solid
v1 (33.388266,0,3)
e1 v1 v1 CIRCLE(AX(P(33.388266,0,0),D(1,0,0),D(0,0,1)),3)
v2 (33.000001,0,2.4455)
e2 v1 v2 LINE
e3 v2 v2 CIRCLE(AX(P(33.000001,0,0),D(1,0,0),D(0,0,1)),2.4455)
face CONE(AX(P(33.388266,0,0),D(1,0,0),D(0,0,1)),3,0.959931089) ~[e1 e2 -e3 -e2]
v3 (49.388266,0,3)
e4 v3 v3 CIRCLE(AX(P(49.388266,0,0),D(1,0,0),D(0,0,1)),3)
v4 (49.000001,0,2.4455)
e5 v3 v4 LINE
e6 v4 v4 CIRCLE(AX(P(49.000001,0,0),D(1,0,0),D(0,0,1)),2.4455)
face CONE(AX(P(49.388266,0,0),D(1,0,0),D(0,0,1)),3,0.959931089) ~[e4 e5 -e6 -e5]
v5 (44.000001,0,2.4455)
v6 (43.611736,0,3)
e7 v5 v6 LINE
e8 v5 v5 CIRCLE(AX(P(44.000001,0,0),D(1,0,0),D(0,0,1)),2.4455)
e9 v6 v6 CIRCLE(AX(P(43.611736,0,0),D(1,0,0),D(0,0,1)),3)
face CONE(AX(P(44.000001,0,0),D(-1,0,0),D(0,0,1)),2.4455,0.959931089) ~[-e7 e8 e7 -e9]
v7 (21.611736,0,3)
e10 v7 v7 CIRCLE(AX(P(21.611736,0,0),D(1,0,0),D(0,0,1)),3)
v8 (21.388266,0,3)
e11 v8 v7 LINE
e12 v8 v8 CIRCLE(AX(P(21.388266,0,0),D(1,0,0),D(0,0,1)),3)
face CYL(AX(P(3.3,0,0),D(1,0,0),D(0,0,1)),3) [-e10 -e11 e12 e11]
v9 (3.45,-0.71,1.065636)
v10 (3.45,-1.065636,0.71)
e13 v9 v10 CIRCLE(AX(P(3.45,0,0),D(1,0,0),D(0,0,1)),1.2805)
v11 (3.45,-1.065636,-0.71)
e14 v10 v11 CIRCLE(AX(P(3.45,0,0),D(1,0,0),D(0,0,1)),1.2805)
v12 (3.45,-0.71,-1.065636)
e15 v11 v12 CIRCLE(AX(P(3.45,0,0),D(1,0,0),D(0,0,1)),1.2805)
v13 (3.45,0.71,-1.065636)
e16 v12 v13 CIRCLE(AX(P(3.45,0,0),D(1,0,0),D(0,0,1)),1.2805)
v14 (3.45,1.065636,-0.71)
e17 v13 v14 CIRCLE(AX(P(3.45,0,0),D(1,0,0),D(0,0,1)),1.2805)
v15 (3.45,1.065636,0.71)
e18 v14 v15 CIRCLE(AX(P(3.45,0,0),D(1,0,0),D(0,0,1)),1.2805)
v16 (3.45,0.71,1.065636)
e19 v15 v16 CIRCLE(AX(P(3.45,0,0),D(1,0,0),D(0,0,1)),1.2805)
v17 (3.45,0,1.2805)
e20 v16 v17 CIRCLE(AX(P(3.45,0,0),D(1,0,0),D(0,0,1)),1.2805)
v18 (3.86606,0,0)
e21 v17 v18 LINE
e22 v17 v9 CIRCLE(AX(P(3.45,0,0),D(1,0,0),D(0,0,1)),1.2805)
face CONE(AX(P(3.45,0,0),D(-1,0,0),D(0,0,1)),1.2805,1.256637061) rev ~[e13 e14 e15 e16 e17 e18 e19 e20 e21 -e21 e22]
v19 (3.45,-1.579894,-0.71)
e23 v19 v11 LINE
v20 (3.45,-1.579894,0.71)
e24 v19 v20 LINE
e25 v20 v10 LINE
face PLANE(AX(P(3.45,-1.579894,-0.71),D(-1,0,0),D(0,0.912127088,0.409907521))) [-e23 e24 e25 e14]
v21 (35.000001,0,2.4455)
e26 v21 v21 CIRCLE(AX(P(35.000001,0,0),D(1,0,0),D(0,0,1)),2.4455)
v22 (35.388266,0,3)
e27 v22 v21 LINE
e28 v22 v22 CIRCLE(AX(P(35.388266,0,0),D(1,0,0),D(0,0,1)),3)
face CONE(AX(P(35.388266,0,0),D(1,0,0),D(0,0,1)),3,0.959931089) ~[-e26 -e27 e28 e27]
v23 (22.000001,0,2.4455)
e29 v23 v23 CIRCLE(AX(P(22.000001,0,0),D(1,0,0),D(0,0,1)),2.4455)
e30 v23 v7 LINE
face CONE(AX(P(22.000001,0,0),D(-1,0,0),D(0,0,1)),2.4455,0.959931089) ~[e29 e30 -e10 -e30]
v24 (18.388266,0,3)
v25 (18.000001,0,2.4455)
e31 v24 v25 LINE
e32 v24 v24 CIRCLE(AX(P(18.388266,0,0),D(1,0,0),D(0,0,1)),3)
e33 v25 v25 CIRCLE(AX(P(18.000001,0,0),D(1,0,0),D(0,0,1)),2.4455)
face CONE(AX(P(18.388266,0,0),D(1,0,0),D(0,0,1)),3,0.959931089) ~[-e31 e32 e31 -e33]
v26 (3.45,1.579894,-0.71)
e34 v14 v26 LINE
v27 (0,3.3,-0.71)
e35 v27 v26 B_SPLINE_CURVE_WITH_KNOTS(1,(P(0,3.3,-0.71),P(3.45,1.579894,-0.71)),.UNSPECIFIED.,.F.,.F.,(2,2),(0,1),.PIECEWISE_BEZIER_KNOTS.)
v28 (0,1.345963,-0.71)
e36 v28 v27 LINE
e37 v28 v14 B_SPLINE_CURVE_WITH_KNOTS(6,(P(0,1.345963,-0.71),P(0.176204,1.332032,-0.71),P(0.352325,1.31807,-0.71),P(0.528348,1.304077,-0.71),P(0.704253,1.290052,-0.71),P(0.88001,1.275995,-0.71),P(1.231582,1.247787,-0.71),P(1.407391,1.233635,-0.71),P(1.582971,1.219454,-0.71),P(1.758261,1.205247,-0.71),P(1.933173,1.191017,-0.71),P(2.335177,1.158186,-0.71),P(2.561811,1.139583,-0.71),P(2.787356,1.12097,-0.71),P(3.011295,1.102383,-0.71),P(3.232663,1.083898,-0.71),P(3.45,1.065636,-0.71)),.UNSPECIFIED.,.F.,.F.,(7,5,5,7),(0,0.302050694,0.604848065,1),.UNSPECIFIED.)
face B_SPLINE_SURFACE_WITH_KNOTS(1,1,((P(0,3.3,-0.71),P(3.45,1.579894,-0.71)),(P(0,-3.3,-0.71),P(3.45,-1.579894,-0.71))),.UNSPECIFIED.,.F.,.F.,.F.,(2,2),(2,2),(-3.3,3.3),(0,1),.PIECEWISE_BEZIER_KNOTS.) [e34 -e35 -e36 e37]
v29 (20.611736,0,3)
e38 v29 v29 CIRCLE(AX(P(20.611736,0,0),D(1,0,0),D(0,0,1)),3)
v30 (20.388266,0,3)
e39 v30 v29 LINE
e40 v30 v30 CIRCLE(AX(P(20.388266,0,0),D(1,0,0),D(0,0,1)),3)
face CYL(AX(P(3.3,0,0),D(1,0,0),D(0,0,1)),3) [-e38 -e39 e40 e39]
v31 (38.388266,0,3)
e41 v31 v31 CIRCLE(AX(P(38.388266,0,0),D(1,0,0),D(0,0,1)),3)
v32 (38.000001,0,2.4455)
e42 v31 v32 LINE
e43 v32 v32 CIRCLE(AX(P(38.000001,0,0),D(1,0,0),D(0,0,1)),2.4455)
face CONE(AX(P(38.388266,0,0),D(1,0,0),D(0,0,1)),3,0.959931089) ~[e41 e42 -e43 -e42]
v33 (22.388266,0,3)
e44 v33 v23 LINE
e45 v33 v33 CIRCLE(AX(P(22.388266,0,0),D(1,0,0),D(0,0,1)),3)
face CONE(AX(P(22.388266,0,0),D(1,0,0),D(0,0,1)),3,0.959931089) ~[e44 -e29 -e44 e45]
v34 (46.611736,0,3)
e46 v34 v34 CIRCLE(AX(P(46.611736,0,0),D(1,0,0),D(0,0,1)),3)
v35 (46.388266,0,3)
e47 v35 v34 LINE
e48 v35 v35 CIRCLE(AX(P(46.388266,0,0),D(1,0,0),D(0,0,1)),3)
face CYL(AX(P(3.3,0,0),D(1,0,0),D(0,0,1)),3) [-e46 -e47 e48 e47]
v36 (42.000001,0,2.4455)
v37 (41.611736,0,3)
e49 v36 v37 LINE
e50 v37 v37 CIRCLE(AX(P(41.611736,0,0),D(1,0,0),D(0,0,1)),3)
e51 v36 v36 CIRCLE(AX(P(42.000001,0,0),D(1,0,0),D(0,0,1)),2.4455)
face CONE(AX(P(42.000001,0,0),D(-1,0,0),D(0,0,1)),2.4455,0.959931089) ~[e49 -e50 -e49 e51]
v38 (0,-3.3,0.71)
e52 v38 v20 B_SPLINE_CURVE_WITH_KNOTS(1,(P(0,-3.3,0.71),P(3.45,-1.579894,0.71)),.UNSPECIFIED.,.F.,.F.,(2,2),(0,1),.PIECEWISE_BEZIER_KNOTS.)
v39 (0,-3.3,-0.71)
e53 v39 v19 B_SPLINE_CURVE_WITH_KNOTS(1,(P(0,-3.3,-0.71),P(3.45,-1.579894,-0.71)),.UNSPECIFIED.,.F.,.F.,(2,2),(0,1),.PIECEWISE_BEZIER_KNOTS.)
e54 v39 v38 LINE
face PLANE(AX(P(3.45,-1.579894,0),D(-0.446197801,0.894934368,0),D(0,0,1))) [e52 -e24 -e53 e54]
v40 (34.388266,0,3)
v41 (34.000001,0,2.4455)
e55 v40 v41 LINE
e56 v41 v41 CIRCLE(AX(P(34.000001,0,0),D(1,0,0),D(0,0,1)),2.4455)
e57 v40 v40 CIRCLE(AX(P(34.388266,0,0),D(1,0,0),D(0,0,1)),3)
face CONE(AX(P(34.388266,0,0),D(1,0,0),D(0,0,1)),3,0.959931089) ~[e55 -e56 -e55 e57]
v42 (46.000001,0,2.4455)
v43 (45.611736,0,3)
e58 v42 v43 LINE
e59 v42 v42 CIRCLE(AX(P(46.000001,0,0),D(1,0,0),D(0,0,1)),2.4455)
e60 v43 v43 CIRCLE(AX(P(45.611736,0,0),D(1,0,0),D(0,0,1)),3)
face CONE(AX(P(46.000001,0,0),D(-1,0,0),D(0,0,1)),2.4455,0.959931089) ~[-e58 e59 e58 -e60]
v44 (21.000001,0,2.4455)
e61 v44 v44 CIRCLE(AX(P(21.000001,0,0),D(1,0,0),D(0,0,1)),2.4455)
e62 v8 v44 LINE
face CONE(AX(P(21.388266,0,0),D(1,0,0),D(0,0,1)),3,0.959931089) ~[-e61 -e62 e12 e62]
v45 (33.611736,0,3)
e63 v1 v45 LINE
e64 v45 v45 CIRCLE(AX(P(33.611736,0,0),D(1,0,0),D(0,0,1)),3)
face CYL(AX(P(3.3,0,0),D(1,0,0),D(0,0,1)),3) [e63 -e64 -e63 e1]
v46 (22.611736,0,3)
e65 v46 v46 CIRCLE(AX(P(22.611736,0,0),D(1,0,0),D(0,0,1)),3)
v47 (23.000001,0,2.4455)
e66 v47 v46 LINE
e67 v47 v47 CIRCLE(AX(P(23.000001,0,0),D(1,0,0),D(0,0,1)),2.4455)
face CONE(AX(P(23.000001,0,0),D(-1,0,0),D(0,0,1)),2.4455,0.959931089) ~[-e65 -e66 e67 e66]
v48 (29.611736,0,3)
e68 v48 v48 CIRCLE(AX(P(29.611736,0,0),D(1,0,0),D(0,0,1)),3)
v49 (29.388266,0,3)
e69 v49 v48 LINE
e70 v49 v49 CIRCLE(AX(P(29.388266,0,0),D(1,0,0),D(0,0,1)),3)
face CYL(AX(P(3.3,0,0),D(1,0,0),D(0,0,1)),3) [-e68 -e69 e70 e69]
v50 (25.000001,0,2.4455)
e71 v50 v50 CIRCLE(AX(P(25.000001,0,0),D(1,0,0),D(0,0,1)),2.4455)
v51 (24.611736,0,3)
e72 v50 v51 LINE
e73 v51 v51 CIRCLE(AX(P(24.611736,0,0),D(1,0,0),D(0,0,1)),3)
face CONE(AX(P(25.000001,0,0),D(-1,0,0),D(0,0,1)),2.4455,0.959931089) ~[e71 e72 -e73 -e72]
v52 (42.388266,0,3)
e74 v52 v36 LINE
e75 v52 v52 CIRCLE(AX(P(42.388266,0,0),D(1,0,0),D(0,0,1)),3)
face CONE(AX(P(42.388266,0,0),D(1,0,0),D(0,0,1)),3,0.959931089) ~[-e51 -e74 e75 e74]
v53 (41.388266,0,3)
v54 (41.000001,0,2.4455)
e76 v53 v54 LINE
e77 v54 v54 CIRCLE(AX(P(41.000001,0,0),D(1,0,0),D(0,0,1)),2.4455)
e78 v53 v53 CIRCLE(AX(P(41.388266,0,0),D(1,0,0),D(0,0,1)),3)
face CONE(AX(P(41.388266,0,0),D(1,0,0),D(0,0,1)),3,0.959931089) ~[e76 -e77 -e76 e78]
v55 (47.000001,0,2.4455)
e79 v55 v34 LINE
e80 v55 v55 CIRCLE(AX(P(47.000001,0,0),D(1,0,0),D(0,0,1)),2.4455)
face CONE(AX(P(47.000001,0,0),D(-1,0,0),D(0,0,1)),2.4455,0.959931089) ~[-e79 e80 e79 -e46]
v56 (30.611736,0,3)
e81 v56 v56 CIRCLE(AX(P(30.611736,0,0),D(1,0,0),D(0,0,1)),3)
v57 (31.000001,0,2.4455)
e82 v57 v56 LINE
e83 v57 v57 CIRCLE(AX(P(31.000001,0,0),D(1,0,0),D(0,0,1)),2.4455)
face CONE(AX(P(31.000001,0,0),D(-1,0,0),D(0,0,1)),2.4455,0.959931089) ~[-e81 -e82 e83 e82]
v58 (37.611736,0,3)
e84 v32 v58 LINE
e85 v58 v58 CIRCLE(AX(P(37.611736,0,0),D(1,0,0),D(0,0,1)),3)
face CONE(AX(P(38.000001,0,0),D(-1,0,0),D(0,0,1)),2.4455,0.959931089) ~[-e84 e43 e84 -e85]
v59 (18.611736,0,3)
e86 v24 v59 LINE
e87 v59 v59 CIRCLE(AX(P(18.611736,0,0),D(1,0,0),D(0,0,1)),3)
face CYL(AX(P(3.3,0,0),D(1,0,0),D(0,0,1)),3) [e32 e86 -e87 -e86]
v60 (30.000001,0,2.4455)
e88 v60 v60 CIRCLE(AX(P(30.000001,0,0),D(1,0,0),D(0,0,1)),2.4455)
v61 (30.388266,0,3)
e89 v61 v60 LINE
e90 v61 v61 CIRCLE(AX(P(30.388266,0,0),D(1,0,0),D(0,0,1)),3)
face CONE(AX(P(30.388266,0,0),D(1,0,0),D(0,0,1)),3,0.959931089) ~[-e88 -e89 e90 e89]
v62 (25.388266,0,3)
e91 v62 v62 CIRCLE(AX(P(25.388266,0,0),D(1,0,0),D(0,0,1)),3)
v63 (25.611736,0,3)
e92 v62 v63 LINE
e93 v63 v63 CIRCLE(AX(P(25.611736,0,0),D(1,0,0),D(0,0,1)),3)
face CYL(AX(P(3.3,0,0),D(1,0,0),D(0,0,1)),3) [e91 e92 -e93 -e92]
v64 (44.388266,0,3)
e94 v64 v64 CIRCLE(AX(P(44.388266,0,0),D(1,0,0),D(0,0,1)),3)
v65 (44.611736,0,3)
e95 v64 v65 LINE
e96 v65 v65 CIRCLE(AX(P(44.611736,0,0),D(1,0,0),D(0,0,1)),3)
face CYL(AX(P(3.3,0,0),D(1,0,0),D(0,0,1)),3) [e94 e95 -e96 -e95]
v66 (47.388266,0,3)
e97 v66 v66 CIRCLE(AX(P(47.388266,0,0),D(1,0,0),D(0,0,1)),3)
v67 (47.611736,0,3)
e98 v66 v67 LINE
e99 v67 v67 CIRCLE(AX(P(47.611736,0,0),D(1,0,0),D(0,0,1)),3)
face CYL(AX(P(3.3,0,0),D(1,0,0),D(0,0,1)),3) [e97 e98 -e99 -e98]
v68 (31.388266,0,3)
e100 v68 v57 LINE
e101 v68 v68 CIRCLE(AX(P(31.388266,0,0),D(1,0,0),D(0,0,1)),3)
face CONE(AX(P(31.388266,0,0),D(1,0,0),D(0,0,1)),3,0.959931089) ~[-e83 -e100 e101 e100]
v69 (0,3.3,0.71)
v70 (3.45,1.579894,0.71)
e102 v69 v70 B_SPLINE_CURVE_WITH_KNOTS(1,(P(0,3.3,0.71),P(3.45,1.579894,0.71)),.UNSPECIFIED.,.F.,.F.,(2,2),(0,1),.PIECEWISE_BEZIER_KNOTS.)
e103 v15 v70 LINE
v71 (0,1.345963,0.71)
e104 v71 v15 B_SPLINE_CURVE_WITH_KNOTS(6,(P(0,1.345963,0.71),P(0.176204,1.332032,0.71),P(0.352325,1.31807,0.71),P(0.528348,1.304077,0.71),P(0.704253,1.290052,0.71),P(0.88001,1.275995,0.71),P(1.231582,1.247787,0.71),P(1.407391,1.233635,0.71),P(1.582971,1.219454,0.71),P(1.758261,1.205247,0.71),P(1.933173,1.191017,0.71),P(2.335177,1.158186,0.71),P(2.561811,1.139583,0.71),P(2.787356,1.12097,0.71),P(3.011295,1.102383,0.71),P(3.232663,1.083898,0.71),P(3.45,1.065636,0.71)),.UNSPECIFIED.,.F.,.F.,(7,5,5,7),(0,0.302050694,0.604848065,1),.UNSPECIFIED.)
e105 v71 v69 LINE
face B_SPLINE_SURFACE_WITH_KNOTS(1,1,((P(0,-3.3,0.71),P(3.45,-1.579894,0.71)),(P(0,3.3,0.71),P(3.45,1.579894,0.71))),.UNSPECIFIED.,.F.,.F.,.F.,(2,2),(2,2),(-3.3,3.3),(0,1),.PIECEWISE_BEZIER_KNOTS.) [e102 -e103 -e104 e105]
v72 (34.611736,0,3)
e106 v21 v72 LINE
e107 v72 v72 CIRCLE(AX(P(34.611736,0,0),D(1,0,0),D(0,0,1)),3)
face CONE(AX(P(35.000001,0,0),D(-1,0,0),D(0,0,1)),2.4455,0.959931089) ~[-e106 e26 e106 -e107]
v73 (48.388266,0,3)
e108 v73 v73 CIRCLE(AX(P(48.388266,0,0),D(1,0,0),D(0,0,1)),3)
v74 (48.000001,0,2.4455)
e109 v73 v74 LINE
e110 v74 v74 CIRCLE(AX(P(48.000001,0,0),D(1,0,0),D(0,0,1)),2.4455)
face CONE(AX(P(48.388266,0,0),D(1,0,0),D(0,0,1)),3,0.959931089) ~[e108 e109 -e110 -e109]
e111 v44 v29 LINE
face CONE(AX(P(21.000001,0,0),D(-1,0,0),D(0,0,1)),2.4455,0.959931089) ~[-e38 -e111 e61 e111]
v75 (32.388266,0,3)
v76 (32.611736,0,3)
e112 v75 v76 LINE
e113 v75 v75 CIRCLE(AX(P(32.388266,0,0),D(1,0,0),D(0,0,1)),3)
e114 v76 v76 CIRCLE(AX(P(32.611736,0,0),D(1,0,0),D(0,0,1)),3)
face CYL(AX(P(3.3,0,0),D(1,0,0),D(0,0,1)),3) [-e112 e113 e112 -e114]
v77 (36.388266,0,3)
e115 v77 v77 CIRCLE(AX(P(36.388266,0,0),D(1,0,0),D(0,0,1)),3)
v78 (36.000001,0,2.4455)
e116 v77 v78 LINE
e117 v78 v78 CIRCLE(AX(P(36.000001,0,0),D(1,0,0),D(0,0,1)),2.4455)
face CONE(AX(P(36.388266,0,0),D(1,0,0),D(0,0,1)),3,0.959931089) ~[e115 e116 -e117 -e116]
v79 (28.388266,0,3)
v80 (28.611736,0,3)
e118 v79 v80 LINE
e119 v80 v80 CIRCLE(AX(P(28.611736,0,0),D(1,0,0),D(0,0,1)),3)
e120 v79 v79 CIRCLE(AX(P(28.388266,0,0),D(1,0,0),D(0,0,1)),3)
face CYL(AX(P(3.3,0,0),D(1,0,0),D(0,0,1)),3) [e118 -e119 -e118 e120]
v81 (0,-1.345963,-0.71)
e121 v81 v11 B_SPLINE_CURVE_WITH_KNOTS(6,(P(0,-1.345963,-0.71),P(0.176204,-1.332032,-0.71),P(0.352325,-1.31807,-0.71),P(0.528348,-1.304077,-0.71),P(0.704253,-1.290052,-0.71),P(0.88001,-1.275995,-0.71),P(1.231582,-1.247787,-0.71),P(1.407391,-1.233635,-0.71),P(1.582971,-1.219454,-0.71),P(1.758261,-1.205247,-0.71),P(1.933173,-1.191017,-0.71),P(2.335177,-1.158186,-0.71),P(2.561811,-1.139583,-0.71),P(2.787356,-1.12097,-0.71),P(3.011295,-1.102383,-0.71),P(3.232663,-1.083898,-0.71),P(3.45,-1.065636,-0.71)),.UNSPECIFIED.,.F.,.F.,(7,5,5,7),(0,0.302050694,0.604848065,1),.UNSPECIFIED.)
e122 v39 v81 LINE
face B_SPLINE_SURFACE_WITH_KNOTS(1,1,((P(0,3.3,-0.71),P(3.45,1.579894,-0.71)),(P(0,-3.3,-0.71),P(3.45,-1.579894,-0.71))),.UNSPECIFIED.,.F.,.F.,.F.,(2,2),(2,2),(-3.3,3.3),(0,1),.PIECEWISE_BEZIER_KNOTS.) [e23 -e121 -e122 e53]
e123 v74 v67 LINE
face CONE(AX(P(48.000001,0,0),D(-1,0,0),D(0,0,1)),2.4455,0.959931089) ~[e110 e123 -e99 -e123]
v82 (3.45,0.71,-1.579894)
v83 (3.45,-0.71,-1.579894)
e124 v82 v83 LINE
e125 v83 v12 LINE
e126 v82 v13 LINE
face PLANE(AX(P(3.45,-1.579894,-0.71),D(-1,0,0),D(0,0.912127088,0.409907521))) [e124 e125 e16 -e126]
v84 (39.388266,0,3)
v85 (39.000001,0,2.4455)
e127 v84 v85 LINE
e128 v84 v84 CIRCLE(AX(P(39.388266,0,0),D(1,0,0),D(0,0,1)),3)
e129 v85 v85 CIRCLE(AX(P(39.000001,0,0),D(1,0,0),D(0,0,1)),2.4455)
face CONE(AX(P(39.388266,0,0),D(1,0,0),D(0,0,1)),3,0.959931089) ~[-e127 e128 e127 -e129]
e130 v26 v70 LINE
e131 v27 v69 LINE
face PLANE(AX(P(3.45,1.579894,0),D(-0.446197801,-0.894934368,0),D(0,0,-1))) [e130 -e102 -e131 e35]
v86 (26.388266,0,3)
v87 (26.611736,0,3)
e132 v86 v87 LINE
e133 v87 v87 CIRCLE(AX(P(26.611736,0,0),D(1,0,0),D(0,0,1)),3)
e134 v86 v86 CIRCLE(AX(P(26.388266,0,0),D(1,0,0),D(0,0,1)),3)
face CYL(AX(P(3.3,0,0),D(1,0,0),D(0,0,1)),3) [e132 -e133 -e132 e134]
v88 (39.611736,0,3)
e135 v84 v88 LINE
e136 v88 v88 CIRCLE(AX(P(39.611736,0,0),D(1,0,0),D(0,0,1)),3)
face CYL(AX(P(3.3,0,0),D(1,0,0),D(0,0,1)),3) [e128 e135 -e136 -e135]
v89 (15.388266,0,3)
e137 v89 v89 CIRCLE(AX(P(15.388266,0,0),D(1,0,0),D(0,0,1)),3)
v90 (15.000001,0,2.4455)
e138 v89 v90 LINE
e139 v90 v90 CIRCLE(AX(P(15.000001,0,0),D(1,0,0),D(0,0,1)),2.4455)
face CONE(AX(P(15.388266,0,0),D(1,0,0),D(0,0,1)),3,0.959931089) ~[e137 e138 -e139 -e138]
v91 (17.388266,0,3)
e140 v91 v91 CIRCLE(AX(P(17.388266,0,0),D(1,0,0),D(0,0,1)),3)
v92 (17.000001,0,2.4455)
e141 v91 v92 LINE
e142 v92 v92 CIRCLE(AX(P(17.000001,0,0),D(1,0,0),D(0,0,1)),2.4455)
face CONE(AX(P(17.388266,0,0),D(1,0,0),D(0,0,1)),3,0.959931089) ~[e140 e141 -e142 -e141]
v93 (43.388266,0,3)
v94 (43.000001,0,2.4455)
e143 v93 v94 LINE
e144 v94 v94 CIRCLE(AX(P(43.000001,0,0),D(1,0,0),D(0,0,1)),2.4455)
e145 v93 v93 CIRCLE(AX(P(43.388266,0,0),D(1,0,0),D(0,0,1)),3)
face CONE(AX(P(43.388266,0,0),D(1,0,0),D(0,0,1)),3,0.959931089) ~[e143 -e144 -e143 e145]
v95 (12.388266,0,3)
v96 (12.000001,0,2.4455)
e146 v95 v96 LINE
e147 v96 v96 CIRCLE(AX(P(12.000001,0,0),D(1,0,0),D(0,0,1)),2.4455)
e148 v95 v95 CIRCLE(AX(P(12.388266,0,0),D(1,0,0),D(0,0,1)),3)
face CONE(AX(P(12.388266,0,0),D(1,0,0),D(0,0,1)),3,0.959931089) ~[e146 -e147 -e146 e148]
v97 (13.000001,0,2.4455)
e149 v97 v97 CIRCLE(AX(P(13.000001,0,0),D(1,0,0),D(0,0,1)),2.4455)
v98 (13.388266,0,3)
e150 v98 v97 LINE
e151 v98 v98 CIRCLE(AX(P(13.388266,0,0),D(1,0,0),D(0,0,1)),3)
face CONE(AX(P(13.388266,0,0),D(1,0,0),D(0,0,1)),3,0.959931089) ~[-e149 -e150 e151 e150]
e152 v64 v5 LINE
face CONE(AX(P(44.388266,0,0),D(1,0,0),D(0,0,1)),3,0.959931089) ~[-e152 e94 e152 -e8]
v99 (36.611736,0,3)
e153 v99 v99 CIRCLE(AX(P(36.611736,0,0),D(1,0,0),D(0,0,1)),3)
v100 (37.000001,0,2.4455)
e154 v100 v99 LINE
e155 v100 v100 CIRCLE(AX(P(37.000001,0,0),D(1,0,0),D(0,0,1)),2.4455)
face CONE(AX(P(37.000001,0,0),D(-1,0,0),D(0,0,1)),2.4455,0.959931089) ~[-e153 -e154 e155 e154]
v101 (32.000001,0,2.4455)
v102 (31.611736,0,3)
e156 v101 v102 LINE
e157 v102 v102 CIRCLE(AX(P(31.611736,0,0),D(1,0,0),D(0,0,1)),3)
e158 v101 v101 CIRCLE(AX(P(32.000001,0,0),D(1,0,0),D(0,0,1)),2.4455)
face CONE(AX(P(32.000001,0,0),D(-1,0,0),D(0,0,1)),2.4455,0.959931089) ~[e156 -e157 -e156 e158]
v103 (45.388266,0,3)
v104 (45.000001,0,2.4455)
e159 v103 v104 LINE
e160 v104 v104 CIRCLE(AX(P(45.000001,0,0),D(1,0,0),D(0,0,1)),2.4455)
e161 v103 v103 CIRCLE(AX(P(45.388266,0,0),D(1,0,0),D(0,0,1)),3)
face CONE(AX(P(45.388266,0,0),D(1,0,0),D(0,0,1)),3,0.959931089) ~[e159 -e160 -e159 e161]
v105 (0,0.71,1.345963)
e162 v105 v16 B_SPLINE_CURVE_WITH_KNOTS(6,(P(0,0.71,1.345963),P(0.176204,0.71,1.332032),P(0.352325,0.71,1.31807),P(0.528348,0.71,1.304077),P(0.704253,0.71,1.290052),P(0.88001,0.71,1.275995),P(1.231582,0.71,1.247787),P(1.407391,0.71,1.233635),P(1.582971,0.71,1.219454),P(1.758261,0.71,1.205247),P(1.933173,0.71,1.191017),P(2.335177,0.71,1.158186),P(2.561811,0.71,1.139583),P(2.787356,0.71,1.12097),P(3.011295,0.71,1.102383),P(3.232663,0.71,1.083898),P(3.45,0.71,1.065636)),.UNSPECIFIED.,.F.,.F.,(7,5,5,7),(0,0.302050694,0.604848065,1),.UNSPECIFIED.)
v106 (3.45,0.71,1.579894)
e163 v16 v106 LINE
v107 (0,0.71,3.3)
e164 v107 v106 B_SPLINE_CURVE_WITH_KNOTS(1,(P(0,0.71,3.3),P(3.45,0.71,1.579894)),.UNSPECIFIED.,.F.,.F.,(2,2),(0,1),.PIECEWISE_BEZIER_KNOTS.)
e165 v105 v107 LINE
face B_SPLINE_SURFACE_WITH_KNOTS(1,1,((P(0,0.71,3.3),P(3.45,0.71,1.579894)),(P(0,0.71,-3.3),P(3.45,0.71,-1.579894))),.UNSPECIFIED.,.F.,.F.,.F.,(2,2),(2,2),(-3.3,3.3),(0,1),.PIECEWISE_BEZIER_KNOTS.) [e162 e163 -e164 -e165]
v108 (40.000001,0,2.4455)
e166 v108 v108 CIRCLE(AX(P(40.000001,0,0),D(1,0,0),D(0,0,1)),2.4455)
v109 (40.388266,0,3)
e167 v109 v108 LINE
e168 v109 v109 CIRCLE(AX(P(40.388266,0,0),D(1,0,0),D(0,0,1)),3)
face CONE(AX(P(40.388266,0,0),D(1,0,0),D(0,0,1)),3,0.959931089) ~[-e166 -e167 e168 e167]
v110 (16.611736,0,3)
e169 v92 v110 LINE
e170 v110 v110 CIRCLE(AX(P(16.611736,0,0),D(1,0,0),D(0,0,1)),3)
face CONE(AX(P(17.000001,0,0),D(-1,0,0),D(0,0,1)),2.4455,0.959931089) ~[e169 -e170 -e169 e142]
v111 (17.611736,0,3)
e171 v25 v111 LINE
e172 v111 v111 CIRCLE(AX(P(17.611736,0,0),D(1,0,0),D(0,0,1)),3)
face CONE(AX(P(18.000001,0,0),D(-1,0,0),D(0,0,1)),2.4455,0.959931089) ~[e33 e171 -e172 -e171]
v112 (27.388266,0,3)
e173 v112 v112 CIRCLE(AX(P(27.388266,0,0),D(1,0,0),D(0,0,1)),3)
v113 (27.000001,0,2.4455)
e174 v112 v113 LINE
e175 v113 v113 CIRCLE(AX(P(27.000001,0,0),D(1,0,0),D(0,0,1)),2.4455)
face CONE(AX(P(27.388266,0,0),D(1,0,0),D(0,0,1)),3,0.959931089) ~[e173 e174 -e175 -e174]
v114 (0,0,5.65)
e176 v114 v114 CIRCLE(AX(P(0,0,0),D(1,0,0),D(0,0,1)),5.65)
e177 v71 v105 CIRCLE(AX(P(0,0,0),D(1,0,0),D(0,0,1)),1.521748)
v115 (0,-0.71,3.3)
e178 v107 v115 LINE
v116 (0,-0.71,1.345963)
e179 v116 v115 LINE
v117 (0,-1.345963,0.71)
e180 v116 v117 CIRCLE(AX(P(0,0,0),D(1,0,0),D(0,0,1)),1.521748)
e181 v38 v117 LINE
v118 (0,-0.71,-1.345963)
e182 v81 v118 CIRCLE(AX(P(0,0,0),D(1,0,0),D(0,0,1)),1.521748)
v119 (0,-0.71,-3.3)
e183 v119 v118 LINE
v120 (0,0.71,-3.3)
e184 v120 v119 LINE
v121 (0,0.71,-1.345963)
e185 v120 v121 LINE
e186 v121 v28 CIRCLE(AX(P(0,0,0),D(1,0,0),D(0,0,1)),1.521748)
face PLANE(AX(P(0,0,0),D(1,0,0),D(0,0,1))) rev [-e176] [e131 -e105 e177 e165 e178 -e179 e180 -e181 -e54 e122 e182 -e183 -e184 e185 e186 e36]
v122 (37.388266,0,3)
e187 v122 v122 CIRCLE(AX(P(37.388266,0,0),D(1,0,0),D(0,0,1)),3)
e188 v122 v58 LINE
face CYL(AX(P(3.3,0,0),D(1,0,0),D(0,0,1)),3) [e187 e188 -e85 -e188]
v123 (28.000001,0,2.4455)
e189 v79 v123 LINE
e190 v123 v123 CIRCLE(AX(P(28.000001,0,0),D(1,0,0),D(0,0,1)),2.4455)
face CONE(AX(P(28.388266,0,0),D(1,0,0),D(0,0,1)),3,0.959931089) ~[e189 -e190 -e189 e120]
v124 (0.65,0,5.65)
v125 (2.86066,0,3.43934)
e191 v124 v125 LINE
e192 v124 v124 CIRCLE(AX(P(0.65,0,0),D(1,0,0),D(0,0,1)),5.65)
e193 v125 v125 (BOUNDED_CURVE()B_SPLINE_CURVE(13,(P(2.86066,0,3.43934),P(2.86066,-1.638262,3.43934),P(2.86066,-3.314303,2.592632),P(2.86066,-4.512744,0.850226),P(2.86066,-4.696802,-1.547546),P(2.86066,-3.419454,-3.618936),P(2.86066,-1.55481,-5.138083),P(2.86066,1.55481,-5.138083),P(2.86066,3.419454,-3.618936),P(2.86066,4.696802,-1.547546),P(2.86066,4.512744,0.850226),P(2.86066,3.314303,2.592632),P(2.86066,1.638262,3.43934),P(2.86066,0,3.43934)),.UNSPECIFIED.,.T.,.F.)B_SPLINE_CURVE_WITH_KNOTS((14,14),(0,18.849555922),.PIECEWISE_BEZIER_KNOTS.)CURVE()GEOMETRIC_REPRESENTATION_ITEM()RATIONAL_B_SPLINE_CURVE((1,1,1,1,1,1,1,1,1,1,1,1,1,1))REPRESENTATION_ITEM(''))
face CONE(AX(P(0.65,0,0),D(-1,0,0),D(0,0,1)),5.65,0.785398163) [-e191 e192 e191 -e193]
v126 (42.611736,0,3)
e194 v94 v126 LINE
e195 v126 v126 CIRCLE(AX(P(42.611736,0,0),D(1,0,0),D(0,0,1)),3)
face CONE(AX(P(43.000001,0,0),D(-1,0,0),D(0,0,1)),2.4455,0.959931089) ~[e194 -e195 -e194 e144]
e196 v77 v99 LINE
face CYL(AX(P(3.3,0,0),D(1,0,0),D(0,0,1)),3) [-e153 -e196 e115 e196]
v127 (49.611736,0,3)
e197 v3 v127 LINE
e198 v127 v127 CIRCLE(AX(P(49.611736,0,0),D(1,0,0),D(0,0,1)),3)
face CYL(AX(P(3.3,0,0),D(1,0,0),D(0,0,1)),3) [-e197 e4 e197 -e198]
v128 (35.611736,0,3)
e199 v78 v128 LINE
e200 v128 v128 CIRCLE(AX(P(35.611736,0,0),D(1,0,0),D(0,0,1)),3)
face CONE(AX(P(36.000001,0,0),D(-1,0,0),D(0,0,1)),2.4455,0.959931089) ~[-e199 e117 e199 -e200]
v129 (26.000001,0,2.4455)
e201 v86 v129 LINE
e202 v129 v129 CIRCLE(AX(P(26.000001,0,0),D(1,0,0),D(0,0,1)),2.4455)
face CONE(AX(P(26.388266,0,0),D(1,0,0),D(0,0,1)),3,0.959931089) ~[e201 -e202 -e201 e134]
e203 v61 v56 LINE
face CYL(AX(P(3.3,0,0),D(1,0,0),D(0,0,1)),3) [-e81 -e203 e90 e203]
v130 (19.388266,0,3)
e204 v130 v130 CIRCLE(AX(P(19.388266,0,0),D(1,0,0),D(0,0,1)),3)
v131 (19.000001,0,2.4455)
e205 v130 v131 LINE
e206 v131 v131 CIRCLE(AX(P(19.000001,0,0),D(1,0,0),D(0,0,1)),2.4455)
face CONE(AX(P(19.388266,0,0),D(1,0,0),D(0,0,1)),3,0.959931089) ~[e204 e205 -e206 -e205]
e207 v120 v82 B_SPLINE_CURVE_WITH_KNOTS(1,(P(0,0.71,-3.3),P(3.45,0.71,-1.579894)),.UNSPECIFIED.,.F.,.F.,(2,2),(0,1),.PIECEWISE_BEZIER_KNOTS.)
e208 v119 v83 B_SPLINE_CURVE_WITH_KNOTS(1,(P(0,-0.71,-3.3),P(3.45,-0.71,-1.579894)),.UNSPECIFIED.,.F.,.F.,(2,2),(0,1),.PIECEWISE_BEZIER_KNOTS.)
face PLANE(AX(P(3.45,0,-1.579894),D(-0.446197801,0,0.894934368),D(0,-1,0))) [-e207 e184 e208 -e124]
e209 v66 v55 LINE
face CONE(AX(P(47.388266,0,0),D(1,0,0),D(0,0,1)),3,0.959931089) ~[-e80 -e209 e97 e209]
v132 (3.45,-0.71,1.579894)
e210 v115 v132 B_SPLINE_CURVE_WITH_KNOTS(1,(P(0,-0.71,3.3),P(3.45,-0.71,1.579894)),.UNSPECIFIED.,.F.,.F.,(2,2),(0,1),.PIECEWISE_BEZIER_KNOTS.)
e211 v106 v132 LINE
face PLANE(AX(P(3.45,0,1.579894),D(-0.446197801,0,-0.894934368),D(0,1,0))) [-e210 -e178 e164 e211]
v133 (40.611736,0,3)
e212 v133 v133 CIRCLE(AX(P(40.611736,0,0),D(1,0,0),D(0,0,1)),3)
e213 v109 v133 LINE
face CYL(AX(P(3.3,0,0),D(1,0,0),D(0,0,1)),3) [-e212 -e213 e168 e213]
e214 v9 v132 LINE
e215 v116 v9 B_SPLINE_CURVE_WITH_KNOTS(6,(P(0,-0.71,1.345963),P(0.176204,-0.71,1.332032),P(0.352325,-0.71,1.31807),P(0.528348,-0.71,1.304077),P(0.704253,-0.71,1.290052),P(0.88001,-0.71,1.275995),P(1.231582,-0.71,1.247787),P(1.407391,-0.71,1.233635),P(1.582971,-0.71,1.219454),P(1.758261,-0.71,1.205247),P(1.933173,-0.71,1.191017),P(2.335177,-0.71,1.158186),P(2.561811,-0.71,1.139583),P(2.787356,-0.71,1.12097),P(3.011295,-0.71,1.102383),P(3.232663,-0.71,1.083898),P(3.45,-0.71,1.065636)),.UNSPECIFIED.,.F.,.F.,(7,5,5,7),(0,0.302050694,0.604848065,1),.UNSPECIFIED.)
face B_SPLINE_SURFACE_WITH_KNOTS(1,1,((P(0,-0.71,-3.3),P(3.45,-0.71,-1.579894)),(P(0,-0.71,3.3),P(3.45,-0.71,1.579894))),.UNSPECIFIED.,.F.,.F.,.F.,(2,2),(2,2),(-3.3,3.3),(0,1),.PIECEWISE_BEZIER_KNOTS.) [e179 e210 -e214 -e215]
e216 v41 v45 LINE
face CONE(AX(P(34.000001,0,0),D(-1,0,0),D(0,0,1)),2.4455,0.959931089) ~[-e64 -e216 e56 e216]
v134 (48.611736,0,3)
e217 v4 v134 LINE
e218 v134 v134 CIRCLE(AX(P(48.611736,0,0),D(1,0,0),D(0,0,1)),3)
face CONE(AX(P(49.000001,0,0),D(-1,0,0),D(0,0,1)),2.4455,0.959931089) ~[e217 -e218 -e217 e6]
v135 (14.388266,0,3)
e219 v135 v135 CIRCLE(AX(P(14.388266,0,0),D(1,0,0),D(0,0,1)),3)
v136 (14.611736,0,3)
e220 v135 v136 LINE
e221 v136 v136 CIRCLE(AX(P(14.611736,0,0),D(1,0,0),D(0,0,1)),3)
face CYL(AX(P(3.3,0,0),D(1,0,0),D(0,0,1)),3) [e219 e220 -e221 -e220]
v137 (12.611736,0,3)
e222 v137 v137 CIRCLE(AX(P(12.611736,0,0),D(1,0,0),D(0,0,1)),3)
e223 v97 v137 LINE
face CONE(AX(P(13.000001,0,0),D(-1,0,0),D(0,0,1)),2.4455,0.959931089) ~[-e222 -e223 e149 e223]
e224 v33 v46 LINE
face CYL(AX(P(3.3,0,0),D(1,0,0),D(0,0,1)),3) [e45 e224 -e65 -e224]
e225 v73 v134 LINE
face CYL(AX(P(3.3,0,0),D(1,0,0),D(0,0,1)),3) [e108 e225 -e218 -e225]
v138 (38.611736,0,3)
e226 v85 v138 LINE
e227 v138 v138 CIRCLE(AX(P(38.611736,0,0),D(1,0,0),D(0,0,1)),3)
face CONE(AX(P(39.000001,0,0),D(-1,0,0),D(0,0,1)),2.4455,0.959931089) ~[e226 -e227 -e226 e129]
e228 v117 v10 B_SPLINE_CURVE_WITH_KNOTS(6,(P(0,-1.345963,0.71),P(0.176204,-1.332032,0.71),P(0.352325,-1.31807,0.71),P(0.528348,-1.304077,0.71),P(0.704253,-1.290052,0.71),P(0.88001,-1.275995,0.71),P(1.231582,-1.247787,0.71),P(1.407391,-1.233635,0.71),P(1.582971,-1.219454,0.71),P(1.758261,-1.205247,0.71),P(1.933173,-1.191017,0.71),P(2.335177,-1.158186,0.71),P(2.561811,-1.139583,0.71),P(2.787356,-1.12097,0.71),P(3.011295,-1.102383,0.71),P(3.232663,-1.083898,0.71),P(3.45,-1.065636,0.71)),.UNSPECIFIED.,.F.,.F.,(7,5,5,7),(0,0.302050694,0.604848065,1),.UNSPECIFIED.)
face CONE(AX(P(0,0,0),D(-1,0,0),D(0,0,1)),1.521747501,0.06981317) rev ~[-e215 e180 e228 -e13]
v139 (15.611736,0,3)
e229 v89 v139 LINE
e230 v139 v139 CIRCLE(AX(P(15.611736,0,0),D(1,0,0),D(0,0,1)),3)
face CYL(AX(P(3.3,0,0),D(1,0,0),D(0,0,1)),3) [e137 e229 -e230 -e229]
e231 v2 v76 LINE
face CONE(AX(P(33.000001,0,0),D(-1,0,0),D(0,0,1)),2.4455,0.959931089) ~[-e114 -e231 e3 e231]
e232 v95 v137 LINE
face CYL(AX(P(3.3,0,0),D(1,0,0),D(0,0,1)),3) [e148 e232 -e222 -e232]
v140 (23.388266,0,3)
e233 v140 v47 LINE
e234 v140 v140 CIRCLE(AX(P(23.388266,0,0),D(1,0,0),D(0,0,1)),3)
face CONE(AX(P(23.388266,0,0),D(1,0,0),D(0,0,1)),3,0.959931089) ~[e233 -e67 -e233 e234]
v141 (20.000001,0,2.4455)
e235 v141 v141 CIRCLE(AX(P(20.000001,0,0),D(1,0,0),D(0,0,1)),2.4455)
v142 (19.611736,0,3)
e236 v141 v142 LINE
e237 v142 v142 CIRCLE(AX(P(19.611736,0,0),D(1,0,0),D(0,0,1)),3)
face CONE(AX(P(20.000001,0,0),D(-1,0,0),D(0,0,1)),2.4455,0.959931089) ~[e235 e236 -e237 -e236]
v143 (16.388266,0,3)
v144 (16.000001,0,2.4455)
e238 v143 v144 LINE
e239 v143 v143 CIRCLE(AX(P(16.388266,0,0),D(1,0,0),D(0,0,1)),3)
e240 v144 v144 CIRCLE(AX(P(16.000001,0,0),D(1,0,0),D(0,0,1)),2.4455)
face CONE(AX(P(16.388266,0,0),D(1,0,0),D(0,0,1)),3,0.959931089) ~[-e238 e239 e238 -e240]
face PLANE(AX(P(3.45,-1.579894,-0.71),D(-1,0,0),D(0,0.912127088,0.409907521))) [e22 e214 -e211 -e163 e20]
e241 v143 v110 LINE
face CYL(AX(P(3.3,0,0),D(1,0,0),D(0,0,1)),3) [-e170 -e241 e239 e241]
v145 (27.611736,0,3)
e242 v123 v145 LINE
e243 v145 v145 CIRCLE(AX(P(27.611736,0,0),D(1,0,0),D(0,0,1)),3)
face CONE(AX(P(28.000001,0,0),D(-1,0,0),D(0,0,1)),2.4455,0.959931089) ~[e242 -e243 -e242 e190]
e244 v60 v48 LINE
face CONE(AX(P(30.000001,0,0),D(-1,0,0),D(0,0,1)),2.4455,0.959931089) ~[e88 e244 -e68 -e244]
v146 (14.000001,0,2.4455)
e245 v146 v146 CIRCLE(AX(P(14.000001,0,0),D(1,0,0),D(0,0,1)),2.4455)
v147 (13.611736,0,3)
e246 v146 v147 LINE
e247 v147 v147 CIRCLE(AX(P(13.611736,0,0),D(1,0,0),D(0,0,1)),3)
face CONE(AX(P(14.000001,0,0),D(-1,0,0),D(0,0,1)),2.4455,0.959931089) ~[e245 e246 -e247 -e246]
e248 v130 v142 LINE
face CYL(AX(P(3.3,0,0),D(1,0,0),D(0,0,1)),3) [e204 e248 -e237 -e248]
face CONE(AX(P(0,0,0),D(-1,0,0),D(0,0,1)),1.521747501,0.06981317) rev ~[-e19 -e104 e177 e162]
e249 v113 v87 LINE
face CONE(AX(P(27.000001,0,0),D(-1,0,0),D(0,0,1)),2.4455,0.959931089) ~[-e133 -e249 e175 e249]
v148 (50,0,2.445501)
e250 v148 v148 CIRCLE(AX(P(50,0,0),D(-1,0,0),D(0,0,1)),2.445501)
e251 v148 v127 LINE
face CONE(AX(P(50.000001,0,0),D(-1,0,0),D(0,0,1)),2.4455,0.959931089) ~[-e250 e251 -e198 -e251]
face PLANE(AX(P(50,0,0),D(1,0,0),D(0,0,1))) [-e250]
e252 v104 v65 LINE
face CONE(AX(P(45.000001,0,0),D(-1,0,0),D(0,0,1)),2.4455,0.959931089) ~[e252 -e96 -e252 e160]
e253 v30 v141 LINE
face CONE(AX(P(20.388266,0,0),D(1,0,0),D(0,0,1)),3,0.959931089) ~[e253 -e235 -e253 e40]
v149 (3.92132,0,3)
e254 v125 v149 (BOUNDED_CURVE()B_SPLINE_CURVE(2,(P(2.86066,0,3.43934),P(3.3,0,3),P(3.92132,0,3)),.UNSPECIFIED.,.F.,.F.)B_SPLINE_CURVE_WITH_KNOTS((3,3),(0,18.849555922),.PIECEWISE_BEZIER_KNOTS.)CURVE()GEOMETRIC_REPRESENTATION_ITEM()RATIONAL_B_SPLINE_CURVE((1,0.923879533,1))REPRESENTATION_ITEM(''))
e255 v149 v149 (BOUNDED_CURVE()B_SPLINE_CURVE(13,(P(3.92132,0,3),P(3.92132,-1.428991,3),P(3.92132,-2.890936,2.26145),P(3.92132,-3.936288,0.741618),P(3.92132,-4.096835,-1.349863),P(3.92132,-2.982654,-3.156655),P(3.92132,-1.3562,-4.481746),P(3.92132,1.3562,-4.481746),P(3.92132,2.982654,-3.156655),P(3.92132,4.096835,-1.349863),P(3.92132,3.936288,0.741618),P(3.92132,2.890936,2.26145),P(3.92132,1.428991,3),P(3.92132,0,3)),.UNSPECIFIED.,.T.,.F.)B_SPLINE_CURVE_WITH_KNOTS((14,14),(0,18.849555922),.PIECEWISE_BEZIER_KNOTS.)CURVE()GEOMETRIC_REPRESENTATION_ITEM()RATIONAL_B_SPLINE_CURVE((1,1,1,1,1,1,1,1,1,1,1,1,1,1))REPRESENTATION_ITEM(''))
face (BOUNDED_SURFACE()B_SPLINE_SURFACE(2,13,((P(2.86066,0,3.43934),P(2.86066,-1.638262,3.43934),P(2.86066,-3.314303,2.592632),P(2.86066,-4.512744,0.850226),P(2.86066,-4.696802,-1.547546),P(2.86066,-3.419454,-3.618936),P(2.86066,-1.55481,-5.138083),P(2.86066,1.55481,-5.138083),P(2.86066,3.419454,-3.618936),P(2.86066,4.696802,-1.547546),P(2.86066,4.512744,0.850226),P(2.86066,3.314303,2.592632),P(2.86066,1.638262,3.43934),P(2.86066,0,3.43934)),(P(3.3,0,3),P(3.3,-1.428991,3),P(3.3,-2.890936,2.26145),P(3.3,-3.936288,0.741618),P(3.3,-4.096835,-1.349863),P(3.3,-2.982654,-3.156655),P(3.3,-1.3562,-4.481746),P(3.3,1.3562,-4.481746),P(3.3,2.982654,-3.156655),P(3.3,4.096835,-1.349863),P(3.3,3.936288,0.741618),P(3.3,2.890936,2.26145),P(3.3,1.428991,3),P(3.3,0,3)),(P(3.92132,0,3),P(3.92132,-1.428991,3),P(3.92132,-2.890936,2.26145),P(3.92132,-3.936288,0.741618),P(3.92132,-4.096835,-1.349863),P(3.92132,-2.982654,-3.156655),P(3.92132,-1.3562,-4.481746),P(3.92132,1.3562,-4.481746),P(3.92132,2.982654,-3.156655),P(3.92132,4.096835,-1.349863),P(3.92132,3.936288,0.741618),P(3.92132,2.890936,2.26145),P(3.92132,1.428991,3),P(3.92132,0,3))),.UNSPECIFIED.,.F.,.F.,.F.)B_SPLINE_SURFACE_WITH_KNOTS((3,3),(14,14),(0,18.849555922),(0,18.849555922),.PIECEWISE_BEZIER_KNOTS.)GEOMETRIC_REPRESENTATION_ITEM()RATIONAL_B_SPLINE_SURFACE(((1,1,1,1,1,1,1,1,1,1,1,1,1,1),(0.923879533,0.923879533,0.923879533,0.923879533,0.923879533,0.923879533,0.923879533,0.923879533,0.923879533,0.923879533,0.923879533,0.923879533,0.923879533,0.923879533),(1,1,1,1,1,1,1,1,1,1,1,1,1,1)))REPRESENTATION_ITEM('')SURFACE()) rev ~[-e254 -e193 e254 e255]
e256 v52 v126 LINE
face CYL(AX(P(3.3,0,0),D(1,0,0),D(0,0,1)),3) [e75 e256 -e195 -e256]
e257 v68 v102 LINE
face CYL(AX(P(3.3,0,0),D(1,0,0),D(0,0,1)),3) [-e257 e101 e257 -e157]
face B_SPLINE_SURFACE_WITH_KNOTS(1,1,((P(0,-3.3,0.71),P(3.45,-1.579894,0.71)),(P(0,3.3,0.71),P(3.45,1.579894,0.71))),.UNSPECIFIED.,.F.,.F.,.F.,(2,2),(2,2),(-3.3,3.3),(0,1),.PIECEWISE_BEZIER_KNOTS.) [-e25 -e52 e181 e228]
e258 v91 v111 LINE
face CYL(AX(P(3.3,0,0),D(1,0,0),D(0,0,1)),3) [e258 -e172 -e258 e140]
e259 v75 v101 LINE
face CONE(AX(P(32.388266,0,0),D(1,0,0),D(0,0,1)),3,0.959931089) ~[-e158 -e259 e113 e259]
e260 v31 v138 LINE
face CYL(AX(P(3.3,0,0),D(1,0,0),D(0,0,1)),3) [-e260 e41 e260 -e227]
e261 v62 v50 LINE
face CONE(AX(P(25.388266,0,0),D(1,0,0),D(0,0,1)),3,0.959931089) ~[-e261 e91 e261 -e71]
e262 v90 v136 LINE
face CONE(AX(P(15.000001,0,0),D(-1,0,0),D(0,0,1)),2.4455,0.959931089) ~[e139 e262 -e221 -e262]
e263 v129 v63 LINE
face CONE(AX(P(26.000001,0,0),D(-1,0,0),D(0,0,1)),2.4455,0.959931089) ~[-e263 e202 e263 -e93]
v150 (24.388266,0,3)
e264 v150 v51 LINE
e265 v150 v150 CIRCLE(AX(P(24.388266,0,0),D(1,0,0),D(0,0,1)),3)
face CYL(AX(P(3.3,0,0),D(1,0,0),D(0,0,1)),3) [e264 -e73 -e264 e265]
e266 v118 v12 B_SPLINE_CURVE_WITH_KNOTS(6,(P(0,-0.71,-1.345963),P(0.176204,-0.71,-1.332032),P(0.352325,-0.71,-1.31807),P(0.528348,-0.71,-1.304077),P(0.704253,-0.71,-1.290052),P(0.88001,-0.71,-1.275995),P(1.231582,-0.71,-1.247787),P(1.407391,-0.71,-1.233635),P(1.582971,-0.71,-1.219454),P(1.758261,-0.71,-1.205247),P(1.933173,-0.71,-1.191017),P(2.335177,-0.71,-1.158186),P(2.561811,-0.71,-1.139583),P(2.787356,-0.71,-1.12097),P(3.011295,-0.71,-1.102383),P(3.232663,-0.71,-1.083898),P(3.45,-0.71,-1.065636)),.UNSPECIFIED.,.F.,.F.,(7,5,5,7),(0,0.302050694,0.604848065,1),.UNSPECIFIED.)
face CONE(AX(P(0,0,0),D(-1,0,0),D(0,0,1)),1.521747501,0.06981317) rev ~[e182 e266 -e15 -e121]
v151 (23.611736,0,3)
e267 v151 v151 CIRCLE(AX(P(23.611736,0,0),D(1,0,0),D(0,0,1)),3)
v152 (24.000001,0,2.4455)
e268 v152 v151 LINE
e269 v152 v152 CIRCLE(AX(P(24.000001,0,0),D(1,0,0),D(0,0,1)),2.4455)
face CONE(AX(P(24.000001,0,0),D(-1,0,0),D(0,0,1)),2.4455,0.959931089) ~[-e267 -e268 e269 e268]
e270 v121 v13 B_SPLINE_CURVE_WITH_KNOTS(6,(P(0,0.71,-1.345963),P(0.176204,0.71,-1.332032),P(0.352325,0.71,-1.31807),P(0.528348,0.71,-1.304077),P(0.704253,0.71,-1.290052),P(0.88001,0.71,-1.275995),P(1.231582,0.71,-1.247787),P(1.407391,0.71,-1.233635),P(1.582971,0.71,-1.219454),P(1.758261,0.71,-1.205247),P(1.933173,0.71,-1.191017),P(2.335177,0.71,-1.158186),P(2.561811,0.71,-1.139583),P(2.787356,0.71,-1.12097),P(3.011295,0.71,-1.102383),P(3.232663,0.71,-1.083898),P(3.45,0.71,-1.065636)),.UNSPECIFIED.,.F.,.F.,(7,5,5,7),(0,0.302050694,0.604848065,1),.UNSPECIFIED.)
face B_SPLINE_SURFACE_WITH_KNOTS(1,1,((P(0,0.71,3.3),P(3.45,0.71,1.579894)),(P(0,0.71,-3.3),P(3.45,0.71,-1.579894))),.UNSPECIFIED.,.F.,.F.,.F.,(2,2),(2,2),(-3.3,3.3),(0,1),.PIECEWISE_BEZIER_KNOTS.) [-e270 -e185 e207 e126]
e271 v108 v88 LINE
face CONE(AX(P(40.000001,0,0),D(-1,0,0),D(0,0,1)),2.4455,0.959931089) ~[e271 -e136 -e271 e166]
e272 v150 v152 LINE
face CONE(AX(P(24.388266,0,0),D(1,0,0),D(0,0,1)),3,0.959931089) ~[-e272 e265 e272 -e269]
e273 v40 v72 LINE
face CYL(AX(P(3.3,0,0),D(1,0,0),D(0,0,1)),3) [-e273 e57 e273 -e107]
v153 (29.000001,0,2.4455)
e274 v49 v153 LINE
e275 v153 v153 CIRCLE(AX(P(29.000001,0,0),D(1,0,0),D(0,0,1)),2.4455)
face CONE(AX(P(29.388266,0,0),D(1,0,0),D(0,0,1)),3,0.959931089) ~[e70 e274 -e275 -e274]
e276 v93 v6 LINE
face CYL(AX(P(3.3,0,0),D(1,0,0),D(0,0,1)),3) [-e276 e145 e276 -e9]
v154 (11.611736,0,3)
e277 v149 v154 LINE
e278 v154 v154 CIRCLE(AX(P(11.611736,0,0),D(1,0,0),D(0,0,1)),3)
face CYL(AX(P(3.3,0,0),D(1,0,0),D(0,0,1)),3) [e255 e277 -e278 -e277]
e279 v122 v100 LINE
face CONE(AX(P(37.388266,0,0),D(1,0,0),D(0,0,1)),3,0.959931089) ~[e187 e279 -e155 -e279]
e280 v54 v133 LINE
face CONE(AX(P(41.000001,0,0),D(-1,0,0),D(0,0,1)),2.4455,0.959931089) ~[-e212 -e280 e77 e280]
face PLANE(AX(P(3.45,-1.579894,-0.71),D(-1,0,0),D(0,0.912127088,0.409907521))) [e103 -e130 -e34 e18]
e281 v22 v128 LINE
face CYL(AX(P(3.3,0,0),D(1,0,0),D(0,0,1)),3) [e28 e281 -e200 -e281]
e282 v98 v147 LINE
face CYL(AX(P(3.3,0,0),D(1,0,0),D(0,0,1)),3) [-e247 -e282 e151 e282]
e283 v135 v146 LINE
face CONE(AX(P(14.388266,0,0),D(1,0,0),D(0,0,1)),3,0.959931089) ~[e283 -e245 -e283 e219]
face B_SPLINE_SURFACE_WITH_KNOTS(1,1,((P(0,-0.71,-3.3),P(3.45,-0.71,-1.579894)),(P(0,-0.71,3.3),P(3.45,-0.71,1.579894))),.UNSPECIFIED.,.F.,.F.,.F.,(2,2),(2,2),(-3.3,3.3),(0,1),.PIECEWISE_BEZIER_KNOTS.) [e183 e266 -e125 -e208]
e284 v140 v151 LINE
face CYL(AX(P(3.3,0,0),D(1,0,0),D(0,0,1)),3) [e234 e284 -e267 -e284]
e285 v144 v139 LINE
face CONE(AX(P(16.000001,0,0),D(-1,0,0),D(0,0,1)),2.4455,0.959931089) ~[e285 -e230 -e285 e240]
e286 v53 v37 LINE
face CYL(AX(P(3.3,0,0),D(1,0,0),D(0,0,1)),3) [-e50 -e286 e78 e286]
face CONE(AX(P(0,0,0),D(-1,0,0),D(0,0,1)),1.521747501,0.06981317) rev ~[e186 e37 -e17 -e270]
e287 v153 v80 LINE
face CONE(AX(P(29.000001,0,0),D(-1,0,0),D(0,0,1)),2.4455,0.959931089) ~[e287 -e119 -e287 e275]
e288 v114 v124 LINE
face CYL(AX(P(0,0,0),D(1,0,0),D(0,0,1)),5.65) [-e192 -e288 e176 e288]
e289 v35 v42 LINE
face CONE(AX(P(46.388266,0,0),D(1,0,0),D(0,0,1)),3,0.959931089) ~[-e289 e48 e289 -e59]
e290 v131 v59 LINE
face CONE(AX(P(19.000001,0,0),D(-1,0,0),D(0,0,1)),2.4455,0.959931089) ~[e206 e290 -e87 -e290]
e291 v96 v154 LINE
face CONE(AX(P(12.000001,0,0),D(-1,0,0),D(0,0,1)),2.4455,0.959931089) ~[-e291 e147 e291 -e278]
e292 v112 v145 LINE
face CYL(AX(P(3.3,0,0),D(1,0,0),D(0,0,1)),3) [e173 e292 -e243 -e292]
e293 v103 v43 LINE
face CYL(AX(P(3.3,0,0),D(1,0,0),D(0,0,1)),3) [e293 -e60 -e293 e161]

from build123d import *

# Parameters (mm, degrees)
FILLET1_R       = 1.5
SKETCH3_W       = 1.42
SKETCH3_H       = 6.6
SKETCH4_W       = 1.42
SKETCH4_H       = 3.159787024
RECPAT_COUNT    = 2
RECPAT_ANGLE    = 90
THDSCHPAT_COUNT = 39
THDSCHPAT_PITCH = 1


with BuildPart() as part:
    # BodySke → Base-Revolve (revolve)
    with BuildSketch(Plane.XY, mode=Mode.PRIVATE) as base_revolve_sk:
        Polygon((0, 0), (0, 5.65), (0.65, 5.65), (3.3, 3), (50, 3), (50, 0), align=None)
    revolve(base_revolve_sk.sketch.rotate(Axis((-6.35, 0, 0), (1, 0, 0)), 90), axis=Axis((-6.35, 0, 0), (1, 0, 0)))

    # Fillet1
    fillet1_edges = [part.edges().sort_by_distance(p)[0] for p in [
        (3.3, 0, -3),
    ]]
    fillet(fillet1_edges, radius=FILLET1_R)

    # Sketch3 → Recess section 0
    with BuildSketch(Plane.ZY):
        Rectangle(SKETCH3_W, SKETCH3_H)
    # Sketch4 → Recess section 1
    with BuildSketch(Plane.ZY.offset(-3.45)):
        Rectangle(SKETCH4_W, SKETCH4_H)
    recess = loft(mode=Mode.SUBTRACT)

    # RecPat: Recess ×2 about axis
    recpat_axis = Axis((0, 0, 0), (1, 0, 0))
    for i in range(1, RECPAT_COUNT):
        add(recess.rotate(recpat_axis, i * RECPAT_ANGLE / (RECPAT_COUNT - 1)), mode=Mode.SUBTRACT)

    # RecCorSke → RecessCore (revolve, cut)
    with BuildSketch(Plane.XY, mode=Mode.PRIVATE) as recesscore_sk:
        Polygon((0, 0), (0, 1.521747501), (3.45, 1.2805), (3.866059671, 0), align=None)
    revolve(recesscore_sk.sketch.rotate(Axis((-3.175, 0, 0), (1, 0, 0)), 90), axis=Axis((-3.175, 0, 0), (1, 0, 0)), mode=Mode.SUBTRACT)

    # ThdSchSke → ThreadSchematic (revolve, cut)
    with BuildSketch(Plane.XY, mode=Mode.PRIVATE) as threadschematic_sk:
        Polygon((12.000001, -2.4455), (11.61173592, -3), (11.61173592, -3.75), (12.38826608, -3.75), (12.38826608, -3), align=None)
    threadschematic = revolve(threadschematic_sk.sketch.rotate(Axis((-3.175, 0, 0), (1, 0, 0)), 270), axis=Axis((-3.175, 0, 0), (1, 0, 0)), mode=Mode.SUBTRACT)

    # ThdSchPat: ThreadSchematic ×39
    with Locations(*[(i * THDSCHPAT_PITCH, 0, 0) for i in range(1, THDSCHPAT_COUNT)]):
        add(threadschematic, mode=Mode.SUBTRACT)


solid = part.part
